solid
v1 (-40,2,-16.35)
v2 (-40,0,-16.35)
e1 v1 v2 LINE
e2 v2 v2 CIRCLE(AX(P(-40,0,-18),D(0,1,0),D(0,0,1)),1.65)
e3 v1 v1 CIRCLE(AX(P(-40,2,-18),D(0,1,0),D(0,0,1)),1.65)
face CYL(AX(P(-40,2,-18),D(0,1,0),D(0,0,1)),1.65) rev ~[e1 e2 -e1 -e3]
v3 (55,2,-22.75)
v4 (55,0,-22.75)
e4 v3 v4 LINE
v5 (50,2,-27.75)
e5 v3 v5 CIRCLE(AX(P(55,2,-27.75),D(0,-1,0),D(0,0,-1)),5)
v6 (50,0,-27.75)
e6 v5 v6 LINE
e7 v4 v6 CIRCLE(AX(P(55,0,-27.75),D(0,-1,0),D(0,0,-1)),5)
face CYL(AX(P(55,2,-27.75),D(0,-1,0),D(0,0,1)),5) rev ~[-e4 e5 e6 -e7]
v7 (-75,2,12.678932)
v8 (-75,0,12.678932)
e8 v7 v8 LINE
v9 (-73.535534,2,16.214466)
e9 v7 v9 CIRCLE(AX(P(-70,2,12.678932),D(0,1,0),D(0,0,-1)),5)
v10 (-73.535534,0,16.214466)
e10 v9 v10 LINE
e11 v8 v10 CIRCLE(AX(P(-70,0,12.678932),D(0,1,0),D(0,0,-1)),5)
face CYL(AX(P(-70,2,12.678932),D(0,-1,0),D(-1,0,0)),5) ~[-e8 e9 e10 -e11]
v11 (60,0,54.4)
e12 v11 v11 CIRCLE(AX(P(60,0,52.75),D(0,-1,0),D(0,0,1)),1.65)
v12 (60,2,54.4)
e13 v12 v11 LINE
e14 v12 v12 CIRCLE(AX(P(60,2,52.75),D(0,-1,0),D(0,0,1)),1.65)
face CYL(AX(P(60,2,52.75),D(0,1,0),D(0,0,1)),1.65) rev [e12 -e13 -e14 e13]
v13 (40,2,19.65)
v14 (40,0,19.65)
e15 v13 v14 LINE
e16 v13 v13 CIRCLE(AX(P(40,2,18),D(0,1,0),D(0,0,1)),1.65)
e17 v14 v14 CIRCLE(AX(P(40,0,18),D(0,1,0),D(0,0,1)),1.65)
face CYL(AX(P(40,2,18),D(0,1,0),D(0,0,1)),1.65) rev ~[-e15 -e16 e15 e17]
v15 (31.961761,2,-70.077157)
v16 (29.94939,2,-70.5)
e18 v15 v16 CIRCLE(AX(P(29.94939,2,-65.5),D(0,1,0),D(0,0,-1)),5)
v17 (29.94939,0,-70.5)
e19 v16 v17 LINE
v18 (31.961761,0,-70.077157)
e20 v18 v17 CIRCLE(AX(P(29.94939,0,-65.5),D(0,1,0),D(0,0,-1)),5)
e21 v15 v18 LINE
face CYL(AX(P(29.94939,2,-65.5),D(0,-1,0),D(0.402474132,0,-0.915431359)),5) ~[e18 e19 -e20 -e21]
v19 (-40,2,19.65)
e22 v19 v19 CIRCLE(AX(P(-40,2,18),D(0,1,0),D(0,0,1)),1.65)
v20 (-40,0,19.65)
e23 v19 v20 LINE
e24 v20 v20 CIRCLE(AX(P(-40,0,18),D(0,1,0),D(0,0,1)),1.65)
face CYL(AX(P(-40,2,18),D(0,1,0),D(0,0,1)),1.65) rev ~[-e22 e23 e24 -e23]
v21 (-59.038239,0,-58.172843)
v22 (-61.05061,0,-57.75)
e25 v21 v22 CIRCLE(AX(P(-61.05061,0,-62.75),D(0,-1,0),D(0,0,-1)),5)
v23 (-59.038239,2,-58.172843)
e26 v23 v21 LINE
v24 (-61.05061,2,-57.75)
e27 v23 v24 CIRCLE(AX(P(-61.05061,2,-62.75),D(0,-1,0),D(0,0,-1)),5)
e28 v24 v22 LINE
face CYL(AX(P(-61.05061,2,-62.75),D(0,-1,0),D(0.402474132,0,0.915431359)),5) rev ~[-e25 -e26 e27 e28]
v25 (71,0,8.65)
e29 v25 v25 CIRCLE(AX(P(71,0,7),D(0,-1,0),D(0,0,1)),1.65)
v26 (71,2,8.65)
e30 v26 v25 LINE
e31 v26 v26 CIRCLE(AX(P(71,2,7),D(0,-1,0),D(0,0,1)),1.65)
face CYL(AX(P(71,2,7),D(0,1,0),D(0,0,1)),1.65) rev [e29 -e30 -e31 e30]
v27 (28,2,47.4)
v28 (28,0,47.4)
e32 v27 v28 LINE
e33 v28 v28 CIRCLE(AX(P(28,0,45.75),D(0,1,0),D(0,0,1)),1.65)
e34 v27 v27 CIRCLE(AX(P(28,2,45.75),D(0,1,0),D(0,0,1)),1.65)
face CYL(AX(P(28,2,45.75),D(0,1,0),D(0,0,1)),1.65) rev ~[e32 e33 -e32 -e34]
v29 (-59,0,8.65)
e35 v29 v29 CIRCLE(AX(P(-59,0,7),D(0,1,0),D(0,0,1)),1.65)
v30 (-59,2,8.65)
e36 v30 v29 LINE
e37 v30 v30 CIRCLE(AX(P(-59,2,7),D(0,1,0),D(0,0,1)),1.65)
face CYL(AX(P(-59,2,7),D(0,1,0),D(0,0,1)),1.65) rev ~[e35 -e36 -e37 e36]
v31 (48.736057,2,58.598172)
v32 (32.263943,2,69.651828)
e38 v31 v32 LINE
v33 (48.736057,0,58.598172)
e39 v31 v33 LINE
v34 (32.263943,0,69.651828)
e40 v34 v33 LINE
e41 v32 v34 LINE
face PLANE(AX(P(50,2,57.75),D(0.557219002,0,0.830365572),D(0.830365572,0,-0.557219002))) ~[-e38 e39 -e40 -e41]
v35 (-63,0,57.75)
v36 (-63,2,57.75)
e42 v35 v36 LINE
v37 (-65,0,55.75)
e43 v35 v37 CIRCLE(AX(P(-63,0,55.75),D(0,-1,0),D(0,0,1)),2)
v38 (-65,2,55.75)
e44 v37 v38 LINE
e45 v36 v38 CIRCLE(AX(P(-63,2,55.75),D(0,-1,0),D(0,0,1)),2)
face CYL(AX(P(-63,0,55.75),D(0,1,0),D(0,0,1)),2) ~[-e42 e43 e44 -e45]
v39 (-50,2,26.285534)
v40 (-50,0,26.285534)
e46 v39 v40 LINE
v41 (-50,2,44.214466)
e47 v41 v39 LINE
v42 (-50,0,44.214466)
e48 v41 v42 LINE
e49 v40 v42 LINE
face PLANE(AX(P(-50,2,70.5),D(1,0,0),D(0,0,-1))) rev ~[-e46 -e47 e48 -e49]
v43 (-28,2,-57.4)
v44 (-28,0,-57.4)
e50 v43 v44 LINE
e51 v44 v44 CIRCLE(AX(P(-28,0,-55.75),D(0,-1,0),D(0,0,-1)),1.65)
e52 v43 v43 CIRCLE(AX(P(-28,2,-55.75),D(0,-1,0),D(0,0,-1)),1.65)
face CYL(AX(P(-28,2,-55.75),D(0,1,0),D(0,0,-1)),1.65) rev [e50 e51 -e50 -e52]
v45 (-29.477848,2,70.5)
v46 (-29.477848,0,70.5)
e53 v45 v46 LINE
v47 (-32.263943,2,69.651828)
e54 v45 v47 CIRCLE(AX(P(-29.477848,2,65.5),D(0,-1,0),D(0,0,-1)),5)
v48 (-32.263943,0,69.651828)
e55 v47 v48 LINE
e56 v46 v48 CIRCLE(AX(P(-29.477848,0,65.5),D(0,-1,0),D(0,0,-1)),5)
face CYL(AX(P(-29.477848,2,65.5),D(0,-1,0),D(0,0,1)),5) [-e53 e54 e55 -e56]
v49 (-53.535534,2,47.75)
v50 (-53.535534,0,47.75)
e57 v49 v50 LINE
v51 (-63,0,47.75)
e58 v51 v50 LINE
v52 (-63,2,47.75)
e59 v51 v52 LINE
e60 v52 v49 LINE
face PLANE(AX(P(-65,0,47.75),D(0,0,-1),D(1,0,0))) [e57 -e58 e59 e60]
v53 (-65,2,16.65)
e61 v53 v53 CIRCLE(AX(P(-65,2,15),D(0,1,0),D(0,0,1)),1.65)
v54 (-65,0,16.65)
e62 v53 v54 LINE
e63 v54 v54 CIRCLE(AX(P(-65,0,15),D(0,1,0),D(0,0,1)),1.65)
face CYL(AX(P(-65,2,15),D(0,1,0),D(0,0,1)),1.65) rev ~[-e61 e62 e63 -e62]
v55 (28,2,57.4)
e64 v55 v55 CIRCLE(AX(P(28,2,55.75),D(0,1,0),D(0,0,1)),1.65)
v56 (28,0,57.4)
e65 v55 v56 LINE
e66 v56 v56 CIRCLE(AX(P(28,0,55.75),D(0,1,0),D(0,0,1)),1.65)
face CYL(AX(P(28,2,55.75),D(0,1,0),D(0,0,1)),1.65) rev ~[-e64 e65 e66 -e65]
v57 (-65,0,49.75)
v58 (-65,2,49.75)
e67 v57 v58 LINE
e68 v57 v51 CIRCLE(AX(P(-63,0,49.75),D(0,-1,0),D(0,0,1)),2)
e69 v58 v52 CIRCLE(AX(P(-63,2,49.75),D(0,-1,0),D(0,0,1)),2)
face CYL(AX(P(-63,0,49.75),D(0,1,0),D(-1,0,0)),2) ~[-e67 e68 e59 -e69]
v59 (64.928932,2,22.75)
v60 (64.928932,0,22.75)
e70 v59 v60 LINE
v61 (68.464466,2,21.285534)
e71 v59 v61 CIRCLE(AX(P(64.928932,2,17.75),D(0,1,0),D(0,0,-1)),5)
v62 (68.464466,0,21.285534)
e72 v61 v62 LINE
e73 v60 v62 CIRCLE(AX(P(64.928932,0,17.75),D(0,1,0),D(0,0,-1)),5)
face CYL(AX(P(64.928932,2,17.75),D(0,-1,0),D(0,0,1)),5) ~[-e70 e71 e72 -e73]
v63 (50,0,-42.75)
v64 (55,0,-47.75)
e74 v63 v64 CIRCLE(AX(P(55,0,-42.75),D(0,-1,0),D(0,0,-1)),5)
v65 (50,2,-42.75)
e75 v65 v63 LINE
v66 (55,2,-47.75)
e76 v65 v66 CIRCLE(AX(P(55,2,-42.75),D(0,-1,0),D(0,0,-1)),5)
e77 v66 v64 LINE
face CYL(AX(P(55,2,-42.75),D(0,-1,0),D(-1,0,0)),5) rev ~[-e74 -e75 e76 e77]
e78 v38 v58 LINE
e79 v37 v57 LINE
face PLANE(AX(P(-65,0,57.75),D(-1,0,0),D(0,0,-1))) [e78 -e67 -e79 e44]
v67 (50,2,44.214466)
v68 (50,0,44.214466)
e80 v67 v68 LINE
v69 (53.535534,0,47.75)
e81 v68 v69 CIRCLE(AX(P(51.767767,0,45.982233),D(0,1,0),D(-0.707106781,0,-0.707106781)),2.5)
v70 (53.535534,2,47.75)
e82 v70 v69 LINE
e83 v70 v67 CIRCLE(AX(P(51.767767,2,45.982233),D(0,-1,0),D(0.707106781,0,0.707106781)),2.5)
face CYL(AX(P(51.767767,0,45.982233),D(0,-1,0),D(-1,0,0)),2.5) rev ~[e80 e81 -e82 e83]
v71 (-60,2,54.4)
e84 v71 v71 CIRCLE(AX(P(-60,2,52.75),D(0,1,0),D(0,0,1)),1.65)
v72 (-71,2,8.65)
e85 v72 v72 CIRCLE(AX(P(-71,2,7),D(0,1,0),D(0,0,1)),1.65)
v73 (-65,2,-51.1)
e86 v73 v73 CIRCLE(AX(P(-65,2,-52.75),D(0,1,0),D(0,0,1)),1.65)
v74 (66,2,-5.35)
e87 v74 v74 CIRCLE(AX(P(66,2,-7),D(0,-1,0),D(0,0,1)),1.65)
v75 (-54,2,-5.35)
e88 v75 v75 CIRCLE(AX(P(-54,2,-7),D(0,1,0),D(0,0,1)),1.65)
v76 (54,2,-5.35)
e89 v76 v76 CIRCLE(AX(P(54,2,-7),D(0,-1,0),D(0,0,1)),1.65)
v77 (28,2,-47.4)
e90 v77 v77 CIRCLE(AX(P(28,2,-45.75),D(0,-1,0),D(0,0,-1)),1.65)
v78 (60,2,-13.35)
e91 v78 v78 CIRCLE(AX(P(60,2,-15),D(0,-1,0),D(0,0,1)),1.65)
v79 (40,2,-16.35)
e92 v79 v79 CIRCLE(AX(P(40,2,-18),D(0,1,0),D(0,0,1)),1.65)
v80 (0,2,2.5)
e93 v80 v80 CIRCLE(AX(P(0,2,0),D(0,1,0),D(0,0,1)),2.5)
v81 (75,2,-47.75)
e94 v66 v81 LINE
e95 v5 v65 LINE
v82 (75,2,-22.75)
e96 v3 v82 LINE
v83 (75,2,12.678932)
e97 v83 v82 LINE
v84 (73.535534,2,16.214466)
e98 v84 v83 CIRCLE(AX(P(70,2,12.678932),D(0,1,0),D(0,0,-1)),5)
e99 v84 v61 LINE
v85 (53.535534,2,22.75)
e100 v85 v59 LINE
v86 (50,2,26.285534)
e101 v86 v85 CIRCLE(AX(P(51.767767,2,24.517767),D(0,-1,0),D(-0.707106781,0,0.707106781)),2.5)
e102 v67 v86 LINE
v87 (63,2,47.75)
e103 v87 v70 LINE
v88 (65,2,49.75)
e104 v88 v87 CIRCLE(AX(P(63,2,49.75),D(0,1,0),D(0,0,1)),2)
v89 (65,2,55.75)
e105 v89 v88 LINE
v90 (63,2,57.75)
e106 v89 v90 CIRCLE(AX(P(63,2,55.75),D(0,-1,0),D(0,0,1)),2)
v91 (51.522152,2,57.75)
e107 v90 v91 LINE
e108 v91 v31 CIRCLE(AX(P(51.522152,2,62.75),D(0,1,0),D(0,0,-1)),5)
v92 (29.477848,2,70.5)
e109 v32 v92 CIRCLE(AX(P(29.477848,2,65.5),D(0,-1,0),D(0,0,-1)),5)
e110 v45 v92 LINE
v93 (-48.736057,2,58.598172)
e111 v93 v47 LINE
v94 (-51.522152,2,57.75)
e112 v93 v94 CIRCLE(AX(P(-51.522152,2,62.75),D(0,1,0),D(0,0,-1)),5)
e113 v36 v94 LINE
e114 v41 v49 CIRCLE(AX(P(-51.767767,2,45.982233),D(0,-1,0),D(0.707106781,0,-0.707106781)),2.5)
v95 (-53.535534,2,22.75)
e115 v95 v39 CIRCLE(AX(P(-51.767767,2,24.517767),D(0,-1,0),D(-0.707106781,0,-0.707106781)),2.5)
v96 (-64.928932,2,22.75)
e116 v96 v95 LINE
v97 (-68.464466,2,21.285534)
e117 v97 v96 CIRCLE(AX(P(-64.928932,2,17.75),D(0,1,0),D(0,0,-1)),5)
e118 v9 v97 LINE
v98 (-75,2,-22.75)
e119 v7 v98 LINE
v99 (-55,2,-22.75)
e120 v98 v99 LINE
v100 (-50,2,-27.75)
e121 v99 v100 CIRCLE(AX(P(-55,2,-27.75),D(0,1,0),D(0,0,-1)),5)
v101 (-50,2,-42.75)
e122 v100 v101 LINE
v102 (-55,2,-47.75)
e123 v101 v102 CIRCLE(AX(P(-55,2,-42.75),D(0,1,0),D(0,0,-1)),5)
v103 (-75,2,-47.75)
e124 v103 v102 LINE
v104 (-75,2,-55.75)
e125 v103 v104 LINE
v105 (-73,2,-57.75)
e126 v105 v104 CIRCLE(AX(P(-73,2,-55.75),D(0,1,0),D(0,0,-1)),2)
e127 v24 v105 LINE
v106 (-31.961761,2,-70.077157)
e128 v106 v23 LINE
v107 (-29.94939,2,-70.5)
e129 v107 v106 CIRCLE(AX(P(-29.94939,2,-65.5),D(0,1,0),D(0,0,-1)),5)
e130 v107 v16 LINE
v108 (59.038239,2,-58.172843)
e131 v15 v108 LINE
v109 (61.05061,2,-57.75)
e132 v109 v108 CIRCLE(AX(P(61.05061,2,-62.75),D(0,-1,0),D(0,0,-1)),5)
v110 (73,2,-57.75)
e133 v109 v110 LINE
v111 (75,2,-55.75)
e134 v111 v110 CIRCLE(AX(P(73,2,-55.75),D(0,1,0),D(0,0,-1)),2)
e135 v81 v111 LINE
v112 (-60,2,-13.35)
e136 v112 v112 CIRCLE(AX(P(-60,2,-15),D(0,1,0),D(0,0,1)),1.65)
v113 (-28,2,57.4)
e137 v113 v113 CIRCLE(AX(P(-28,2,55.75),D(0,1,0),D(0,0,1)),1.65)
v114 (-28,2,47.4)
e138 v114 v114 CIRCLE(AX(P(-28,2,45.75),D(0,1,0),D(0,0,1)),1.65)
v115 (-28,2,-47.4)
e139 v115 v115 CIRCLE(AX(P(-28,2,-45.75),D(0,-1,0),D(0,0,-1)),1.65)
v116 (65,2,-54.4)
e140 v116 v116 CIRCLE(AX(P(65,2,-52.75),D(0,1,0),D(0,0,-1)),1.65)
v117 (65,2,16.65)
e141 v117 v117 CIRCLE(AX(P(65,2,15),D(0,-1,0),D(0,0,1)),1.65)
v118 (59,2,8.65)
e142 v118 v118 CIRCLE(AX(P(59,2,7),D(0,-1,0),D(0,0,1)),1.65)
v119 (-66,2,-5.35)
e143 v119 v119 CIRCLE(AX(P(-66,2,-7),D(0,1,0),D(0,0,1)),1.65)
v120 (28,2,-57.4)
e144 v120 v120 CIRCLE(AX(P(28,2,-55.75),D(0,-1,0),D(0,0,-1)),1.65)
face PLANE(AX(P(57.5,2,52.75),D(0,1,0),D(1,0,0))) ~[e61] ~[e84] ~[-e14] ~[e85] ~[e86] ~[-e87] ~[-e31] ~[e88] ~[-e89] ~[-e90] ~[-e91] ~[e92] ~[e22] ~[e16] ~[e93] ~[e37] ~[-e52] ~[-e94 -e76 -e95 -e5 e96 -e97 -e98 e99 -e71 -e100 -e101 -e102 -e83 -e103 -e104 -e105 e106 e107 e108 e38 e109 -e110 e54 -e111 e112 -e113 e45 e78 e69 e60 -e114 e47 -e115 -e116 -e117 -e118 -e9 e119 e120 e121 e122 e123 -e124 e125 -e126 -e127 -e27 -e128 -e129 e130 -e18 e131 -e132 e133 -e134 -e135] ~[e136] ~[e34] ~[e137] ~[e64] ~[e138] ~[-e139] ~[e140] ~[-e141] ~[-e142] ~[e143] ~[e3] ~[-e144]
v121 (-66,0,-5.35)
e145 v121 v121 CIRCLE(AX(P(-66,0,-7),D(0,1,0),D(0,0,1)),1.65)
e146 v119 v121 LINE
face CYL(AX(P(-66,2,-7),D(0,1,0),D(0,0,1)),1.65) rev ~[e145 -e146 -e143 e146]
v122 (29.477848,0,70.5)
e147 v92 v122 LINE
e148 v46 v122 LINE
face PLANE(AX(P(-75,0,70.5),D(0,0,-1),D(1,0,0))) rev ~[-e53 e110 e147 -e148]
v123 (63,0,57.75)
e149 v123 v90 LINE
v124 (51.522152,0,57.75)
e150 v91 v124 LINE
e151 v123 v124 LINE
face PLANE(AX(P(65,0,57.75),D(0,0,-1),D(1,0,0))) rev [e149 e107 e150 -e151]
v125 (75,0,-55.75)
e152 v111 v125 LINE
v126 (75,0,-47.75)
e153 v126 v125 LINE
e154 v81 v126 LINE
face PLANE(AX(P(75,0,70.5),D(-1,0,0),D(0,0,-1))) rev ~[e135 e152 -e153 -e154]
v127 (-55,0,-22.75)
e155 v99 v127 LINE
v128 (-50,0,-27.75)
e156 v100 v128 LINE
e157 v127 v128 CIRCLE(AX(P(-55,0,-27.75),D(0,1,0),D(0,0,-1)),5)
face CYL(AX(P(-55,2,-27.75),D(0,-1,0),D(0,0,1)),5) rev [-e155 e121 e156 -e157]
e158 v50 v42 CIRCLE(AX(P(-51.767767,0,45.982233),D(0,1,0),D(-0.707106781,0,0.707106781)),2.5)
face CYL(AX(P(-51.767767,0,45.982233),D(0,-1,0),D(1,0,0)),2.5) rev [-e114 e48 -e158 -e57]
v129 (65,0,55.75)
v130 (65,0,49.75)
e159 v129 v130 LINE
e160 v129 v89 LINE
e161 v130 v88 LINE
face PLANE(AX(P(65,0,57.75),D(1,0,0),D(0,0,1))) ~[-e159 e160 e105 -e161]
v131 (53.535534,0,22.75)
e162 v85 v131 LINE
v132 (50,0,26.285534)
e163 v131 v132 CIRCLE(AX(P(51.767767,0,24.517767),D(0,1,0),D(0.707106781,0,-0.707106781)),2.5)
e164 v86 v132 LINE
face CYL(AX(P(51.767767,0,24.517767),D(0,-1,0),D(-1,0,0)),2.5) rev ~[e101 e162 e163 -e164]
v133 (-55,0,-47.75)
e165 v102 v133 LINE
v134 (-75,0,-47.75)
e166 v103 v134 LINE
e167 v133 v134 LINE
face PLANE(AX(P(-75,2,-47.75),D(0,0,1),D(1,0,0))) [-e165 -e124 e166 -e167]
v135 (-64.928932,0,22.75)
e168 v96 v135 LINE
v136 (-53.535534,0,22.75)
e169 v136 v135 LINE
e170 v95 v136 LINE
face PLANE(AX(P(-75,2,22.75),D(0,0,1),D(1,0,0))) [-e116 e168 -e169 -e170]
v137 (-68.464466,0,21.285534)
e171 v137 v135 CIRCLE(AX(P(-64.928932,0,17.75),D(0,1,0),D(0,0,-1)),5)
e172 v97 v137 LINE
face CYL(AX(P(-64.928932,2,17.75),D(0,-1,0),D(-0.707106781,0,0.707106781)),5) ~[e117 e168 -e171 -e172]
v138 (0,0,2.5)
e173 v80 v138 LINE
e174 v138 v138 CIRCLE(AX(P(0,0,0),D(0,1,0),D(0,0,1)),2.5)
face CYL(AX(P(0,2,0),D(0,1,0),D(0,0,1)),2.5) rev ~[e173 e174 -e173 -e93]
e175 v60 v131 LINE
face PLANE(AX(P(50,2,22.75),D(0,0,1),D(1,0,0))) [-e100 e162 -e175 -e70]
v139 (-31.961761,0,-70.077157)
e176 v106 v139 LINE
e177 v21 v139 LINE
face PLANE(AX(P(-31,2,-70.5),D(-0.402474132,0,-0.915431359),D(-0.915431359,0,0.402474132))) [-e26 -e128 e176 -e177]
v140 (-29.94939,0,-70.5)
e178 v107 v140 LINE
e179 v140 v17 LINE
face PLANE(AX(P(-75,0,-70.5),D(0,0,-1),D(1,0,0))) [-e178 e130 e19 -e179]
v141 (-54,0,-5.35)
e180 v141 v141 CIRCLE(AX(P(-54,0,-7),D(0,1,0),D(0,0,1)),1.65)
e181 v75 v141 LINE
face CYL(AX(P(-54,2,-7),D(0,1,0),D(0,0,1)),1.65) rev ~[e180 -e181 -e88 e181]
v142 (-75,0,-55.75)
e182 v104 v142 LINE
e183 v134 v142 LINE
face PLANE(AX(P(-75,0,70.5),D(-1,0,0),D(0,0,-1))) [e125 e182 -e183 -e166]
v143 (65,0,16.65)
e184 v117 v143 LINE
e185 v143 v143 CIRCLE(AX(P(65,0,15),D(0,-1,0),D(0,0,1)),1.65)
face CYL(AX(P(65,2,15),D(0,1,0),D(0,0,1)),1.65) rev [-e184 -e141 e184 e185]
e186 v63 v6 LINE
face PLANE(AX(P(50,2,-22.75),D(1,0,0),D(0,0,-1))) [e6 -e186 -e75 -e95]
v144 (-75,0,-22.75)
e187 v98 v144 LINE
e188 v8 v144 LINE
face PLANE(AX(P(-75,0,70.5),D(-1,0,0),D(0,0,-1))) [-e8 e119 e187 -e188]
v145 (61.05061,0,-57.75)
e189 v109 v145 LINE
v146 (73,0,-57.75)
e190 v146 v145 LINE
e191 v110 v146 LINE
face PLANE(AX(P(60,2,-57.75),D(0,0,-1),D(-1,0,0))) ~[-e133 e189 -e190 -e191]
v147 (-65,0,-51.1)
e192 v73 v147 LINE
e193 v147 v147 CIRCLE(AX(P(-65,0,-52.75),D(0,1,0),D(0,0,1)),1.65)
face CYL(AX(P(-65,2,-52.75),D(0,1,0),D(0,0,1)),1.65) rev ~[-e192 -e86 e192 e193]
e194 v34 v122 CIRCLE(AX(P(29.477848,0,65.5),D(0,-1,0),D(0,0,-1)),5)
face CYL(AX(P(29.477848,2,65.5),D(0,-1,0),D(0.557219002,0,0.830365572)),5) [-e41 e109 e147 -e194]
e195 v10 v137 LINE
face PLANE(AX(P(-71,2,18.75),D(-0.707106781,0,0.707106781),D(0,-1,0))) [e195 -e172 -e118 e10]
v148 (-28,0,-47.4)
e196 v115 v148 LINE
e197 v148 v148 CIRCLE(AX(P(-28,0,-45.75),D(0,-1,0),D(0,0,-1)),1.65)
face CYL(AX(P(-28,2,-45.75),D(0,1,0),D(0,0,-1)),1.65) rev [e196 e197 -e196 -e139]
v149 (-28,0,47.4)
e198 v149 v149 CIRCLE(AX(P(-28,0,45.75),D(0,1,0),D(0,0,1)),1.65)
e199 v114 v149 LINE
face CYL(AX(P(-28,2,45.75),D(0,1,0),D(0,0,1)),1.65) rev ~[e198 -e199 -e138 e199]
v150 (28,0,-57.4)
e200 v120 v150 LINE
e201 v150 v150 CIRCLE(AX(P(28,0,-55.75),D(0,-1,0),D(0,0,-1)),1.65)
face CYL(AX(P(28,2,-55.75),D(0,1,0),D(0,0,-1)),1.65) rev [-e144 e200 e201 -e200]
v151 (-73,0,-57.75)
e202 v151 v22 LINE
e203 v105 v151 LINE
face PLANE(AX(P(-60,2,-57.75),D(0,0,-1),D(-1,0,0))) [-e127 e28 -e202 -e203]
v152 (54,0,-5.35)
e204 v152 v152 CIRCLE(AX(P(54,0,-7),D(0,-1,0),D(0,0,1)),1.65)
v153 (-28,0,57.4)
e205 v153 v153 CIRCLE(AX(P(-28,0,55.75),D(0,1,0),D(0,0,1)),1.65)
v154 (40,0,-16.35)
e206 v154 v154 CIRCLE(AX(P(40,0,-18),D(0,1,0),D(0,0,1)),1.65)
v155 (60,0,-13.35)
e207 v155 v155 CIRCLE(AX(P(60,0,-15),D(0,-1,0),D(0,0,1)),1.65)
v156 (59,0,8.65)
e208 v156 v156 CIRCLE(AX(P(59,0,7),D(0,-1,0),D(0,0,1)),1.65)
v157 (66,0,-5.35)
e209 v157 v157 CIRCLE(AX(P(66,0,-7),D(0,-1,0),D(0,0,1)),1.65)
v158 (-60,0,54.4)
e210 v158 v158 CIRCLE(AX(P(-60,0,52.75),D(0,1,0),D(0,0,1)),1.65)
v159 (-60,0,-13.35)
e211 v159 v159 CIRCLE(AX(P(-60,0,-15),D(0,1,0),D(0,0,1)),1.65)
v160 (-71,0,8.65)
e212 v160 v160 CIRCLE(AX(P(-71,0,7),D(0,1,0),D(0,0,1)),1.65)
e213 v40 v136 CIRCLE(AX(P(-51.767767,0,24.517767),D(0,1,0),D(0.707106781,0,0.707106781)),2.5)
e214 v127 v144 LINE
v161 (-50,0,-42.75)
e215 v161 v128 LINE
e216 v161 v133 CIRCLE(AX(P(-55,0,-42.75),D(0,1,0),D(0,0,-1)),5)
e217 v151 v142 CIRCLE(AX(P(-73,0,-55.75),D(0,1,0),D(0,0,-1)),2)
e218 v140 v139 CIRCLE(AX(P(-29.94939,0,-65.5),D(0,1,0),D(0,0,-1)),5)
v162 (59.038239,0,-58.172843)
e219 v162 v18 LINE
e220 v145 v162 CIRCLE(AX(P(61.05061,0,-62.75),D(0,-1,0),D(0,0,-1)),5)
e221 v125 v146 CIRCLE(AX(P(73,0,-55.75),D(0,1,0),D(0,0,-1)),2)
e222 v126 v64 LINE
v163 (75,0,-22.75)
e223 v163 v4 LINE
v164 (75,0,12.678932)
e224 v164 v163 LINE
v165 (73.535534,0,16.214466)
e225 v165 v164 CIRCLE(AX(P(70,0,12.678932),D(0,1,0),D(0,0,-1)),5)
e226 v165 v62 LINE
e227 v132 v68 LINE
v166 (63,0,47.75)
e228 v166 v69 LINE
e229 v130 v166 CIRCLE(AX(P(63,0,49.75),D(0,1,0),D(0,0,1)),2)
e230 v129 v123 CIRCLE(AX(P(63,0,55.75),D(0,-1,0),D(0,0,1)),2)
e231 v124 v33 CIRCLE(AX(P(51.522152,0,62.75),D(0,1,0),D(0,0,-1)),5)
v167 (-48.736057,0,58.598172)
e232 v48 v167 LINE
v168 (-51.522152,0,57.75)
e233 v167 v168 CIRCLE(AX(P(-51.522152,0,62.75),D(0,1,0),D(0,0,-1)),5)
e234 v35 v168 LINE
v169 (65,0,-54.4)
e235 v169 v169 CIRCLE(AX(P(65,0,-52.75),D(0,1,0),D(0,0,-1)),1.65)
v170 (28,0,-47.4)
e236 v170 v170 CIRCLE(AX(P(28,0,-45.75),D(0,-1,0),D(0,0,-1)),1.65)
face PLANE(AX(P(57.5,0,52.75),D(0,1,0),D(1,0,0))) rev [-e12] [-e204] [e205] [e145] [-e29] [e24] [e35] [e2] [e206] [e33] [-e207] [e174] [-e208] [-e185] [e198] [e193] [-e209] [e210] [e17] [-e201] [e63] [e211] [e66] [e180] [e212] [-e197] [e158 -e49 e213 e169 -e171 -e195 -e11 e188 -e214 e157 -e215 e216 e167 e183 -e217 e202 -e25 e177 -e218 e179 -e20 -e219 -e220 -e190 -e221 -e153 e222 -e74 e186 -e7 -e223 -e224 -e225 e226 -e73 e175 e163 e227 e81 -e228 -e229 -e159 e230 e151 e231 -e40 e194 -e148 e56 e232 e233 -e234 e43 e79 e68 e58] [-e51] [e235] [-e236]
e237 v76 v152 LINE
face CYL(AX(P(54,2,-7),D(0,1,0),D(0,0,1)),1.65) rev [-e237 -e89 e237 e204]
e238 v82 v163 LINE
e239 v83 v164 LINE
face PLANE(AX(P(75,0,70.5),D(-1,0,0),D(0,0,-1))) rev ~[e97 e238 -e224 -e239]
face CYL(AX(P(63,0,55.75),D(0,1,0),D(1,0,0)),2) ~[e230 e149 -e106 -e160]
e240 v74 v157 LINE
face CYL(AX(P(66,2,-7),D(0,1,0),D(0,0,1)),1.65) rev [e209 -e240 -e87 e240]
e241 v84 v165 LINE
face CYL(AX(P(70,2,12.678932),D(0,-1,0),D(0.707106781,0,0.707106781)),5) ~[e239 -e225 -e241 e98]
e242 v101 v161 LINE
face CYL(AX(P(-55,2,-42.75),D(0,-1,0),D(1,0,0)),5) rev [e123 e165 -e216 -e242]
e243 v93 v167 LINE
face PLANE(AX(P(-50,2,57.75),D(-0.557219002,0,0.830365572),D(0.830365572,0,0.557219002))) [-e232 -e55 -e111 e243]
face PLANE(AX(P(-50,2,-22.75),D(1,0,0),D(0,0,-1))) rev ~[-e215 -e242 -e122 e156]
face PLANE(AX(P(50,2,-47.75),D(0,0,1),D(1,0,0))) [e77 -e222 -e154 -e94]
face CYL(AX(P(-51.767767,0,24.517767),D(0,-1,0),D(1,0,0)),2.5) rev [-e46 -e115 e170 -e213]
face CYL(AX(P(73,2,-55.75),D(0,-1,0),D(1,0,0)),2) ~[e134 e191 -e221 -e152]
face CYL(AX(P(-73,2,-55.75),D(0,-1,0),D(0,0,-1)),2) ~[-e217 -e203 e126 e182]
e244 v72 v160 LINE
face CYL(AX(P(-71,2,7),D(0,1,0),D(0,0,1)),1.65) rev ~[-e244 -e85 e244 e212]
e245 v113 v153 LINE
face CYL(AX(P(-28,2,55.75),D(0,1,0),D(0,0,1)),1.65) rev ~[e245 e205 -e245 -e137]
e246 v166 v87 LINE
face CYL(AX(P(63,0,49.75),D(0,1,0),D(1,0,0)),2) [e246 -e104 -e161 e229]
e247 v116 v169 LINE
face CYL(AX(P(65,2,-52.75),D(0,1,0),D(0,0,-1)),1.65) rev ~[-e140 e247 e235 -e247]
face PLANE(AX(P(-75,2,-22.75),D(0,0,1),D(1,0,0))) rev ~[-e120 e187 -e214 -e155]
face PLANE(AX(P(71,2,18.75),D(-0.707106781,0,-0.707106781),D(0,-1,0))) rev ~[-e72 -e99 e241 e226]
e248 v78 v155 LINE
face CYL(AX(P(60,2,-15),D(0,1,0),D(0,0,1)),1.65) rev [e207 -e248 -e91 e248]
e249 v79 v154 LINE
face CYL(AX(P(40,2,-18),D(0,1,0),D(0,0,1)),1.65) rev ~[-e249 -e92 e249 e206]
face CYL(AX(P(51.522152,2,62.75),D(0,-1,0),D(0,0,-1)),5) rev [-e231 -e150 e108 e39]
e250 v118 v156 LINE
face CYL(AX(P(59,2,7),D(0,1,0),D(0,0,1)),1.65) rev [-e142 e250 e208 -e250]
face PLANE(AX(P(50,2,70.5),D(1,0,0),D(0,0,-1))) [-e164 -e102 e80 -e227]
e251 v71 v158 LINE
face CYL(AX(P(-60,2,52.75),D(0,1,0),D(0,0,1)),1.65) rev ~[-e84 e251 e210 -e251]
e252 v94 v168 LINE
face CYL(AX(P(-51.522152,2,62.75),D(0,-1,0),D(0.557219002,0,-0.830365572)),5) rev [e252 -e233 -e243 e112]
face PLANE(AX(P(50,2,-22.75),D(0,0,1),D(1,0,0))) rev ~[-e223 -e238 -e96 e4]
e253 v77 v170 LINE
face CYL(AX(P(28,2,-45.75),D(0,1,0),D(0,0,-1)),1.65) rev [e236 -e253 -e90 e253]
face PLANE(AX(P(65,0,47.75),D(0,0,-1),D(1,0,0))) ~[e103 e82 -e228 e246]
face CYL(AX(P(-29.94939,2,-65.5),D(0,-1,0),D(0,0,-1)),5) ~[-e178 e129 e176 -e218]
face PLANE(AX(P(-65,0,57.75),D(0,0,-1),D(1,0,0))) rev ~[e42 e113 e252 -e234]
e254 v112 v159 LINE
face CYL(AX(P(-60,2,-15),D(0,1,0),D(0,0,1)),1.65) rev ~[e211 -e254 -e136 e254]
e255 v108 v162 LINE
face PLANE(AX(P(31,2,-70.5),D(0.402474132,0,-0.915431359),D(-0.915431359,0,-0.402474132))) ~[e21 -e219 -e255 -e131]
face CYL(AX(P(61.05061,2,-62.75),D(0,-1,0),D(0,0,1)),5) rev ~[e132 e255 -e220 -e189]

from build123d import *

# Parameters (mm, degrees)
SKETCH_1_W             = 150
SKETCH_1_H             = 141
EXTRUDE_1_DEPTH        = 2
CUT_EXTRUDE_1_REACH    = 104.953
SKETCH_2_R             = 1.65
CUT_EXTRUDE_5_REACH    = 104.953
SKETCH_9_W             = 25
SKETCH_9_H             = 47.75
CUT_EXTRUDE_6_REACH    = 104.953
CHAMFER_1_SIZE         = 8
CUT_EXTRUDE_3_REACH    = 104.953
SKETCH_5_R             = 1.65
CUT_EXTRUDE_7_REACH    = 104.953
SKETCH_11_W            = 25
SKETCH_11_H            = 25
CUT_EXTRUDE_8_REACH    = 104.953
SKETCH_12_R            = 1.65
FILLET_1_R             = 5
CUT_EXTRUDE_9_REACH    = 104.953
SKETCH_14_W            = 15
SKETCH_14_H            = 10
EXTRUDE_2_DEPTH        = 2
CUT_EXTRUDE_10_REACH   = 104.953
SKETCH_15_R            = 1.65
CUT_EXTRUDE_START      = -2
SKETCH_18_R            = 2.5
CUT_EXTRUDE_13_DEPTH   = 2
CUT_EXTRUDE_6215_REACH = 104.953
SKETCH_16_R            = 2.5
FILLET_2_R             = 2
CUT_EXTRUDE_12_REACH   = 104.953
SKETCH_17_R            = 1.65
FILLET_3_R             = 5


with BuildPart() as part:
    # 草图1 → 凸台-拉伸1 (new body)
    with BuildSketch(Plane(origin=(0, 0, 0), x_dir=(1, 0, 0), z_dir=(0, 1, 0))):
        Rectangle(SKETCH_1_W, SKETCH_1_H)
    extrude(amount=EXTRUDE_1_DEPTH)

    # 草图2 → 切除-拉伸1 (cut, up to next)
    with BuildSketch(Plane(origin=(0, 2, 0), x_dir=(1, 0, 0), z_dir=(0, 1, 0)), mode=Mode.PRIVATE) as cut_extrude_1_sk1:
        with Locations(Location((-60, 15, 0), (0, 0, 270))):
            Circle(SKETCH_2_R)
    cut_extrude_1_tool1 = extrude(cut_extrude_1_sk1.sketch, amount=-CUT_EXTRUDE_1_REACH, mode=Mode.PRIVATE) & part.part
    # 草图2 → 切除-拉伸1 (cut, up to next)
    with BuildSketch(Plane(origin=(0, 2, 0), x_dir=(1, 0, 0), z_dir=(0, 1, 0)), mode=Mode.PRIVATE) as cut_extrude_1_sk2:
        with Locations(Location((-66, 7, 0), (0, 0, 270))):
            Circle(SKETCH_2_R)
    cut_extrude_1_tool2 = extrude(cut_extrude_1_sk2.sketch, amount=-CUT_EXTRUDE_1_REACH, mode=Mode.PRIVATE) & part.part
    # 草图2 → 切除-拉伸1 (cut, up to next)
    with BuildSketch(Plane(origin=(0, 2, 0), x_dir=(1, 0, 0), z_dir=(0, 1, 0)), mode=Mode.PRIVATE) as cut_extrude_1_sk3:
        with Locations(Location((-54, 7, 0), (0, 0, 270))):
            Circle(SKETCH_2_R)
    cut_extrude_1_tool3 = extrude(cut_extrude_1_sk3.sketch, amount=-CUT_EXTRUDE_1_REACH, mode=Mode.PRIVATE) & part.part
    # 草图2 → 切除-拉伸1 (cut, up to next)
    with BuildSketch(Plane(origin=(0, 2, 0), x_dir=(1, 0, 0), z_dir=(0, 1, 0)), mode=Mode.PRIVATE) as cut_extrude_1_sk4:
        with Locations(Location((-71, -7, 0), (0, 0, 270))):
            Circle(SKETCH_2_R)
    cut_extrude_1_tool4 = extrude(cut_extrude_1_sk4.sketch, amount=-CUT_EXTRUDE_1_REACH, mode=Mode.PRIVATE) & part.part
    # 草图2 → 切除-拉伸1 (cut, up to next)
    with BuildSketch(Plane(origin=(0, 2, 0), x_dir=(1, 0, 0), z_dir=(0, 1, 0)), mode=Mode.PRIVATE) as cut_extrude_1_sk5:
        with Locations(Location((-59, -7, 0), (0, 0, 270))):
            Circle(SKETCH_2_R)
    cut_extrude_1_tool5 = extrude(cut_extrude_1_sk5.sketch, amount=-CUT_EXTRUDE_1_REACH, mode=Mode.PRIVATE) & part.part
    # 草图2 → 切除-拉伸1 (cut, up to next)
    with BuildSketch(Plane(origin=(0, 2, 0), x_dir=(1, 0, 0), z_dir=(0, 1, 0)), mode=Mode.PRIVATE) as cut_extrude_1_sk6:
        with Locations(Location((-65, -15, 0), (0, 0, 270))):
            Circle(SKETCH_2_R)
    cut_extrude_1_tool6 = extrude(cut_extrude_1_sk6.sketch, amount=-CUT_EXTRUDE_1_REACH, mode=Mode.PRIVATE) & part.part
    cut_extrude_1_1 = cut_extrude_1_tool1.solids().sort_by_distance((-60, 2, -15))[0]
    add(cut_extrude_1_1, mode=Mode.SUBTRACT)
    cut_extrude_1_2 = cut_extrude_1_tool2.solids().sort_by_distance((-66, 2, -7))[0]
    add(cut_extrude_1_2, mode=Mode.SUBTRACT)
    cut_extrude_1_3 = cut_extrude_1_tool3.solids().sort_by_distance((-54, 2, -7))[0]
    add(cut_extrude_1_3, mode=Mode.SUBTRACT)
    cut_extrude_1_4 = cut_extrude_1_tool4.solids().sort_by_distance((-71, 2, 7))[0]
    add(cut_extrude_1_4, mode=Mode.SUBTRACT)
    cut_extrude_1_5 = cut_extrude_1_tool5.solids().sort_by_distance((-59, 2, 7))[0]
    add(cut_extrude_1_5, mode=Mode.SUBTRACT)
    cut_extrude_1_6 = cut_extrude_1_tool6.solids().sort_by_distance((-65, 2, 15))[0]
    add(cut_extrude_1_6, mode=Mode.SUBTRACT)
    cut_extrude_1 = cut_extrude_1_1 + cut_extrude_1_2 + cut_extrude_1_3 + cut_extrude_1_4 + cut_extrude_1_5 + cut_extrude_1_6  # 切除-拉伸1 as one shape, for the pattern or mirror that repeats it

    # 草图9 → 切除-拉伸5 (cut, up to next)
    with BuildSketch(Plane(origin=(0, 2, 0), x_dir=(1, 0, 0), z_dir=(0, 1, 0)), mode=Mode.PRIVATE) as cut_extrude_5_sk1:
        with Locations((-62.5, -46.625)):
            Rectangle(SKETCH_9_W, SKETCH_9_H)
    cut_extrude_5_tool1 = extrude(cut_extrude_5_sk1.sketch, amount=-CUT_EXTRUDE_5_REACH, mode=Mode.PRIVATE) & part.part
    # 草图9 → 切除-拉伸5 (cut, up to next)
    with BuildSketch(Plane(origin=(0, 2, 0), x_dir=(1, 0, 0), z_dir=(0, 1, 0)), mode=Mode.PRIVATE) as cut_extrude_5_sk2:
        with Locations((62.5, -46.625)):
            Rectangle(SKETCH_9_W, SKETCH_9_H)
    cut_extrude_5_tool2 = extrude(cut_extrude_5_sk2.sketch, amount=-CUT_EXTRUDE_5_REACH, mode=Mode.PRIVATE) & part.part
    add(cut_extrude_5_tool1.solids().sort_by_distance((-62.5, 2, 46.625))[0], mode=Mode.SUBTRACT)
    add(cut_extrude_5_tool2.solids().sort_by_distance((62.5, 2, 46.625))[0], mode=Mode.SUBTRACT)

    # 草图10 → 切除-拉伸6 (cut, up to next)
    with BuildSketch(Plane(origin=(0, 2, 0), x_dir=(1, 0, 0), z_dir=(0, 1, 0)), mode=Mode.PRIVATE) as cut_extrude_6_sk1:
        Polygon((-75, 70.5), (-31, 70.5), (-60, 57.75), (-75, 57.75), align=None)
    cut_extrude_6_tool1 = extrude(cut_extrude_6_sk1.sketch, amount=-CUT_EXTRUDE_6_REACH, mode=Mode.PRIVATE) & part.part
    cut_extrude_6 = cut_extrude_6_tool1.solids().sort_by_distance((-59.062147, 2, -65.169492))[0]
    add(cut_extrude_6, mode=Mode.SUBTRACT)

    # 镜向1: 切除-拉伸1, 切除-拉伸6 across plane
    add(cut_extrude_1.mirror(Plane(origin=(0, 0, 0), x_dir=(0, 0, 1), z_dir=(1, 0, 0))), mode=Mode.SUBTRACT)
    add(cut_extrude_6.mirror(Plane(origin=(0, 0, 0), x_dir=(0, 0, 1), z_dir=(1, 0, 0))), mode=Mode.SUBTRACT)

    # 倒角1
    chamfer_1_edges = [part.edges().sort_by_distance(p)[0] for p in [
        (-75, 1, 22.75),
        (75, 1, 22.75),
    ]]
    chamfer(chamfer_1_edges, length=CHAMFER_1_SIZE)

    # 草图5 → 切除-拉伸3 (cut, up to next)
    with BuildSketch(Plane(origin=(0, 2, 0), x_dir=(1, 0, 0), z_dir=(0, 1, 0)), mode=Mode.PRIVATE) as cut_extrude_3_sk1:
        with Locations(Location((-40, 18, 0), (0, 0, 270))):
            Circle(SKETCH_5_R)
    cut_extrude_3_tool1 = extrude(cut_extrude_3_sk1.sketch, amount=-CUT_EXTRUDE_3_REACH, mode=Mode.PRIVATE) & part.part
    # 草图5 → 切除-拉伸3 (cut, up to next)
    with BuildSketch(Plane(origin=(0, 2, 0), x_dir=(1, 0, 0), z_dir=(0, 1, 0)), mode=Mode.PRIVATE) as cut_extrude_3_sk2:
        with Locations(Location((-40, -18, 0), (0, 0, 270))):
            Circle(SKETCH_5_R)
    cut_extrude_3_tool2 = extrude(cut_extrude_3_sk2.sketch, amount=-CUT_EXTRUDE_3_REACH, mode=Mode.PRIVATE) & part.part
    # 草图5 → 切除-拉伸3 (cut, up to next)
    with BuildSketch(Plane(origin=(0, 2, 0), x_dir=(1, 0, 0), z_dir=(0, 1, 0)), mode=Mode.PRIVATE) as cut_extrude_3_sk3:
        with Locations(Location((40, -18, 0), (0, 0, 270))):
            Circle(SKETCH_5_R)
    cut_extrude_3_tool3 = extrude(cut_extrude_3_sk3.sketch, amount=-CUT_EXTRUDE_3_REACH, mode=Mode.PRIVATE) & part.part
    # 草图5 → 切除-拉伸3 (cut, up to next)
    with BuildSketch(Plane(origin=(0, 2, 0), x_dir=(1, 0, 0), z_dir=(0, 1, 0)), mode=Mode.PRIVATE) as cut_extrude_3_sk4:
        with Locations(Location((40, 18, 0), (0, 0, 270))):
            Circle(SKETCH_5_R)
    cut_extrude_3_tool4 = extrude(cut_extrude_3_sk4.sketch, amount=-CUT_EXTRUDE_3_REACH, mode=Mode.PRIVATE) & part.part
    add(cut_extrude_3_tool1.solids().sort_by_distance((-40, 2, -18))[0], mode=Mode.SUBTRACT)
    add(cut_extrude_3_tool2.solids().sort_by_distance((-40, 2, 18))[0], mode=Mode.SUBTRACT)
    add(cut_extrude_3_tool3.solids().sort_by_distance((40, 2, 18))[0], mode=Mode.SUBTRACT)
    add(cut_extrude_3_tool4.solids().sort_by_distance((40, 2, -18))[0], mode=Mode.SUBTRACT)

    # 草图11 → 切除-拉伸7 (cut, up to next)
    with BuildSketch(Plane(origin=(0, 2, 0), x_dir=(1, 0, 0), z_dir=(0, 1, 0)), mode=Mode.PRIVATE) as cut_extrude_7_sk1:
        with Locations((-62.5, 35.25)):
            Rectangle(SKETCH_11_W, SKETCH_11_H)
    cut_extrude_7_tool1 = extrude(cut_extrude_7_sk1.sketch, amount=-CUT_EXTRUDE_7_REACH, mode=Mode.PRIVATE) & part.part
    # 草图11 → 切除-拉伸7 (cut, up to next)
    with BuildSketch(Plane(origin=(0, 2, 0), x_dir=(1, 0, 0), z_dir=(0, 1, 0)), mode=Mode.PRIVATE) as cut_extrude_7_sk2:
        with Locations((62.5, 35.25)):
            Rectangle(SKETCH_11_W, SKETCH_11_H)
    cut_extrude_7_tool2 = extrude(cut_extrude_7_sk2.sketch, amount=-CUT_EXTRUDE_7_REACH, mode=Mode.PRIVATE) & part.part
    add(cut_extrude_7_tool1.solids().sort_by_distance((-62.5, 2, -35.25))[0], mode=Mode.SUBTRACT)
    add(cut_extrude_7_tool2.solids().sort_by_distance((62.5, 2, -35.25))[0], mode=Mode.SUBTRACT)

    # 草图12 → 切除-拉伸8 (cut, up to next)
    with BuildSketch(Plane(origin=(0, 2, 0), x_dir=(1, 0, 0), z_dir=(0, 1, 0)), mode=Mode.PRIVATE) as cut_extrude_8_sk1:
        with Locations(Location((-65, 52.75, 0), (0, 0, 270))):
            Circle(SKETCH_12_R)
    cut_extrude_8_tool1 = extrude(cut_extrude_8_sk1.sketch, amount=-CUT_EXTRUDE_8_REACH, mode=Mode.PRIVATE) & part.part
    # 草图12 → 切除-拉伸8 (cut, up to next)
    with BuildSketch(Plane(origin=(0, 2, 0), x_dir=(1, 0, 0), z_dir=(0, 1, 0)), mode=Mode.PRIVATE) as cut_extrude_8_sk2:
        with Locations(Location((65, 52.75, 0), (0, 0, 90))):
            Circle(SKETCH_12_R)
    cut_extrude_8_tool2 = extrude(cut_extrude_8_sk2.sketch, amount=-CUT_EXTRUDE_8_REACH, mode=Mode.PRIVATE) & part.part
    add(cut_extrude_8_tool1.solids().sort_by_distance((-65, 2, -52.75))[0], mode=Mode.SUBTRACT)
    add(cut_extrude_8_tool2.solids().sort_by_distance((65, 2, -52.75))[0], mode=Mode.SUBTRACT)

    # 圆角1
    fillet_1_edges = [part.edges().sort_by_distance(p)[0] for p in [
        (67, 1, 22.75),
        (75, 1, 14.75),
        (-75, 1, 14.75),
        (-67, 1, 22.75),
        (-50, 1, -47.75),
        (-50, 1, -22.75),
        (50, 1, -22.75),
        (50, 1, -47.75),
    ]]
    fillet(fillet_1_edges, radius=FILLET_1_R)

    # 草图13 → 切除-拉伸9 (cut, up to next)
    with BuildSketch(Plane(origin=(0, 2, 0), x_dir=(1, 0, 0), z_dir=(0, 1, 0)), mode=Mode.PRIVATE) as cut_extrude_9_sk1:
        Polygon((-50, -70.5), (-50, -57.75), (-31, -70.5), align=None)
    cut_extrude_9_tool1 = extrude(cut_extrude_9_sk1.sketch, amount=-CUT_EXTRUDE_9_REACH, mode=Mode.PRIVATE) & part.part
    cut_extrude_9 = cut_extrude_9_tool1.solids().sort_by_distance((-43.666667, 2, 66.25))[0]
    add(cut_extrude_9, mode=Mode.SUBTRACT)

    # 草图14 → 凸台-拉伸2 (add)
    with BuildSketch(Plane(origin=(0, 0, 0), x_dir=(1, 0, 0), z_dir=(0, 1, 0))):
        with Locations((-57.5, -52.75)):
            Rectangle(SKETCH_14_W, SKETCH_14_H)
    extrude_2 = extrude(amount=EXTRUDE_2_DEPTH)

    # 草图15 → 切除-拉伸10 (cut, up to next)
    with BuildSketch(Plane(origin=(0, 2, 0), x_dir=(1, 0, 0), z_dir=(0, 1, 0)), mode=Mode.PRIVATE) as cut_extrude_10_sk1:
        with Locations(Location((-60, -52.75, 0), (0, 0, 270))):
            Circle(SKETCH_15_R)
    cut_extrude_10_tool1 = extrude(cut_extrude_10_sk1.sketch, amount=-CUT_EXTRUDE_10_REACH, mode=Mode.PRIVATE) & part.part
    cut_extrude_10 = cut_extrude_10_tool1.solids().sort_by_distance((-60, 2, 52.75))[0]
    add(cut_extrude_10, mode=Mode.SUBTRACT)

    # 草图18 → 切除-拉伸13 (cut)
    with BuildSketch(Plane(origin=(0, 2, 0), x_dir=(1, 0, 0), z_dir=(0, 1, 0)).offset(CUT_EXTRUDE_START)):
        with Locations((-51.767766953, -24.517766953)):
            Circle(SKETCH_18_R)
        with Locations((-51.767766953, -45.982233047)):
            Circle(SKETCH_18_R)
    cut_extrude_13 = extrude(amount=CUT_EXTRUDE_13_DEPTH, mode=Mode.SUBTRACT)

    # 镜向2: 切除-拉伸9, 凸台-拉伸2, 切除-拉伸10, 切除-拉伸13 across plane
    add(cut_extrude_9.mirror(Plane(origin=(0, 0, 0), x_dir=(0, 0, 1), z_dir=(1, 0, 0))), mode=Mode.SUBTRACT)
    add(extrude_2.mirror(Plane(origin=(0, 0, 0), x_dir=(0, 0, 1), z_dir=(1, 0, 0))))
    add(cut_extrude_10.mirror(Plane(origin=(0, 0, 0), x_dir=(0, 0, 1), z_dir=(1, 0, 0))), mode=Mode.SUBTRACT)
    add(cut_extrude_13.mirror(Plane(origin=(0, 0, 0), x_dir=(0, 0, 1), z_dir=(1, 0, 0))), mode=Mode.SUBTRACT)

    # 草图16 → Cut-Extrude 6215 (cut, up to next)
    with BuildSketch(Plane(origin=(0, 2, 0), x_dir=(1, 0, 0), z_dir=(0, 1, 0)), mode=Mode.PRIVATE) as cut_extrude_6215_sk1:
        with Locations(Location((0, 0, 0), (0, 0, 270))):
            Circle(SKETCH_16_R)
    cut_extrude_6215_tool1 = extrude(cut_extrude_6215_sk1.sketch, amount=-CUT_EXTRUDE_6215_REACH, mode=Mode.PRIVATE) & part.part
    add(cut_extrude_6215_tool1.solids().sort_by_distance((0, 2, 0))[0], mode=Mode.SUBTRACT)

    # 圆角2
    fillet_2_edges = [part.edges().sort_by_distance(p)[0] for p in [
        (75, 1, -57.75),
        (-65, 1, 57.75),
        (-65, 1, 47.75),
        (65, 1, 57.75),
        (65, 1, 47.75),
        (-75, 1, -57.75),
    ]]
    fillet(fillet_2_edges, radius=FILLET_2_R)

    # 草图17 → 切除-拉伸12 (cut, up to next)
    with BuildSketch(Plane(origin=(0, 2, 0), x_dir=(1, 0, 0), z_dir=(0, 1, 0)), mode=Mode.PRIVATE) as cut_extrude_12_sk1:
        with Locations(Location((-28, -45.75, 0), (0, 0, 270))):
            Circle(SKETCH_17_R)
    cut_extrude_12_tool1 = extrude(cut_extrude_12_sk1.sketch, amount=-CUT_EXTRUDE_12_REACH, mode=Mode.PRIVATE) & part.part
    # 草图17 → 切除-拉伸12 (cut, up to next)
    with BuildSketch(Plane(origin=(0, 2, 0), x_dir=(1, 0, 0), z_dir=(0, 1, 0)), mode=Mode.PRIVATE) as cut_extrude_12_sk2:
        with Locations(Location((-28, -55.75, 0), (0, 0, 270))):
            Circle(SKETCH_17_R)
    cut_extrude_12_tool2 = extrude(cut_extrude_12_sk2.sketch, amount=-CUT_EXTRUDE_12_REACH, mode=Mode.PRIVATE) & part.part
    # 草图17 → 切除-拉伸12 (cut, up to next)
    with BuildSketch(Plane(origin=(0, 2, 0), x_dir=(1, 0, 0), z_dir=(0, 1, 0)), mode=Mode.PRIVATE) as cut_extrude_12_sk3:
        with Locations(Location((28, -45.75, 0), (0, 0, 270))):
            Circle(SKETCH_17_R)
    cut_extrude_12_tool3 = extrude(cut_extrude_12_sk3.sketch, amount=-CUT_EXTRUDE_12_REACH, mode=Mode.PRIVATE) & part.part
    # 草图17 → 切除-拉伸12 (cut, up to next)
    with BuildSketch(Plane(origin=(0, 2, 0), x_dir=(1, 0, 0), z_dir=(0, 1, 0)), mode=Mode.PRIVATE) as cut_extrude_12_sk4:
        with Locations(Location((28, -55.75, 0), (0, 0, 270))):
            Circle(SKETCH_17_R)
    cut_extrude_12_tool4 = extrude(cut_extrude_12_sk4.sketch, amount=-CUT_EXTRUDE_12_REACH, mode=Mode.PRIVATE) & part.part
    cut_extrude_12_1 = cut_extrude_12_tool1.solids().sort_by_distance((-28, 2, 45.75))[0]
    add(cut_extrude_12_1, mode=Mode.SUBTRACT)
    cut_extrude_12_2 = cut_extrude_12_tool2.solids().sort_by_distance((-28, 2, 55.75))[0]
    add(cut_extrude_12_2, mode=Mode.SUBTRACT)
    cut_extrude_12_3 = cut_extrude_12_tool3.solids().sort_by_distance((28, 2, 45.75))[0]
    add(cut_extrude_12_3, mode=Mode.SUBTRACT)
    cut_extrude_12_4 = cut_extrude_12_tool4.solids().sort_by_distance((28, 2, 55.75))[0]
    add(cut_extrude_12_4, mode=Mode.SUBTRACT)
    cut_extrude_12 = cut_extrude_12_1 + cut_extrude_12_2 + cut_extrude_12_3 + cut_extrude_12_4  # 切除-拉伸12 as one shape, for the pattern or mirror that repeats it

    # 镜向3: 切除-拉伸12 across plane
    add(cut_extrude_12.mirror(Plane.XY), mode=Mode.SUBTRACT)

    # 圆角3
    fillet_3_edges = [part.edges().sort_by_distance(p)[0] for p in [
        (60, 1, -57.75),
        (31, 1, -70.5),
        (-31, 1, 70.5),
        (-50, 1, 57.75),
        (31, 1, 70.5),
        (50, 1, 57.75),
        (-31, 1, -70.5),
        (-60, 1, -57.75),
    ]]
    fillet(fillet_3_edges, radius=FILLET_3_R)


solid = part.part
